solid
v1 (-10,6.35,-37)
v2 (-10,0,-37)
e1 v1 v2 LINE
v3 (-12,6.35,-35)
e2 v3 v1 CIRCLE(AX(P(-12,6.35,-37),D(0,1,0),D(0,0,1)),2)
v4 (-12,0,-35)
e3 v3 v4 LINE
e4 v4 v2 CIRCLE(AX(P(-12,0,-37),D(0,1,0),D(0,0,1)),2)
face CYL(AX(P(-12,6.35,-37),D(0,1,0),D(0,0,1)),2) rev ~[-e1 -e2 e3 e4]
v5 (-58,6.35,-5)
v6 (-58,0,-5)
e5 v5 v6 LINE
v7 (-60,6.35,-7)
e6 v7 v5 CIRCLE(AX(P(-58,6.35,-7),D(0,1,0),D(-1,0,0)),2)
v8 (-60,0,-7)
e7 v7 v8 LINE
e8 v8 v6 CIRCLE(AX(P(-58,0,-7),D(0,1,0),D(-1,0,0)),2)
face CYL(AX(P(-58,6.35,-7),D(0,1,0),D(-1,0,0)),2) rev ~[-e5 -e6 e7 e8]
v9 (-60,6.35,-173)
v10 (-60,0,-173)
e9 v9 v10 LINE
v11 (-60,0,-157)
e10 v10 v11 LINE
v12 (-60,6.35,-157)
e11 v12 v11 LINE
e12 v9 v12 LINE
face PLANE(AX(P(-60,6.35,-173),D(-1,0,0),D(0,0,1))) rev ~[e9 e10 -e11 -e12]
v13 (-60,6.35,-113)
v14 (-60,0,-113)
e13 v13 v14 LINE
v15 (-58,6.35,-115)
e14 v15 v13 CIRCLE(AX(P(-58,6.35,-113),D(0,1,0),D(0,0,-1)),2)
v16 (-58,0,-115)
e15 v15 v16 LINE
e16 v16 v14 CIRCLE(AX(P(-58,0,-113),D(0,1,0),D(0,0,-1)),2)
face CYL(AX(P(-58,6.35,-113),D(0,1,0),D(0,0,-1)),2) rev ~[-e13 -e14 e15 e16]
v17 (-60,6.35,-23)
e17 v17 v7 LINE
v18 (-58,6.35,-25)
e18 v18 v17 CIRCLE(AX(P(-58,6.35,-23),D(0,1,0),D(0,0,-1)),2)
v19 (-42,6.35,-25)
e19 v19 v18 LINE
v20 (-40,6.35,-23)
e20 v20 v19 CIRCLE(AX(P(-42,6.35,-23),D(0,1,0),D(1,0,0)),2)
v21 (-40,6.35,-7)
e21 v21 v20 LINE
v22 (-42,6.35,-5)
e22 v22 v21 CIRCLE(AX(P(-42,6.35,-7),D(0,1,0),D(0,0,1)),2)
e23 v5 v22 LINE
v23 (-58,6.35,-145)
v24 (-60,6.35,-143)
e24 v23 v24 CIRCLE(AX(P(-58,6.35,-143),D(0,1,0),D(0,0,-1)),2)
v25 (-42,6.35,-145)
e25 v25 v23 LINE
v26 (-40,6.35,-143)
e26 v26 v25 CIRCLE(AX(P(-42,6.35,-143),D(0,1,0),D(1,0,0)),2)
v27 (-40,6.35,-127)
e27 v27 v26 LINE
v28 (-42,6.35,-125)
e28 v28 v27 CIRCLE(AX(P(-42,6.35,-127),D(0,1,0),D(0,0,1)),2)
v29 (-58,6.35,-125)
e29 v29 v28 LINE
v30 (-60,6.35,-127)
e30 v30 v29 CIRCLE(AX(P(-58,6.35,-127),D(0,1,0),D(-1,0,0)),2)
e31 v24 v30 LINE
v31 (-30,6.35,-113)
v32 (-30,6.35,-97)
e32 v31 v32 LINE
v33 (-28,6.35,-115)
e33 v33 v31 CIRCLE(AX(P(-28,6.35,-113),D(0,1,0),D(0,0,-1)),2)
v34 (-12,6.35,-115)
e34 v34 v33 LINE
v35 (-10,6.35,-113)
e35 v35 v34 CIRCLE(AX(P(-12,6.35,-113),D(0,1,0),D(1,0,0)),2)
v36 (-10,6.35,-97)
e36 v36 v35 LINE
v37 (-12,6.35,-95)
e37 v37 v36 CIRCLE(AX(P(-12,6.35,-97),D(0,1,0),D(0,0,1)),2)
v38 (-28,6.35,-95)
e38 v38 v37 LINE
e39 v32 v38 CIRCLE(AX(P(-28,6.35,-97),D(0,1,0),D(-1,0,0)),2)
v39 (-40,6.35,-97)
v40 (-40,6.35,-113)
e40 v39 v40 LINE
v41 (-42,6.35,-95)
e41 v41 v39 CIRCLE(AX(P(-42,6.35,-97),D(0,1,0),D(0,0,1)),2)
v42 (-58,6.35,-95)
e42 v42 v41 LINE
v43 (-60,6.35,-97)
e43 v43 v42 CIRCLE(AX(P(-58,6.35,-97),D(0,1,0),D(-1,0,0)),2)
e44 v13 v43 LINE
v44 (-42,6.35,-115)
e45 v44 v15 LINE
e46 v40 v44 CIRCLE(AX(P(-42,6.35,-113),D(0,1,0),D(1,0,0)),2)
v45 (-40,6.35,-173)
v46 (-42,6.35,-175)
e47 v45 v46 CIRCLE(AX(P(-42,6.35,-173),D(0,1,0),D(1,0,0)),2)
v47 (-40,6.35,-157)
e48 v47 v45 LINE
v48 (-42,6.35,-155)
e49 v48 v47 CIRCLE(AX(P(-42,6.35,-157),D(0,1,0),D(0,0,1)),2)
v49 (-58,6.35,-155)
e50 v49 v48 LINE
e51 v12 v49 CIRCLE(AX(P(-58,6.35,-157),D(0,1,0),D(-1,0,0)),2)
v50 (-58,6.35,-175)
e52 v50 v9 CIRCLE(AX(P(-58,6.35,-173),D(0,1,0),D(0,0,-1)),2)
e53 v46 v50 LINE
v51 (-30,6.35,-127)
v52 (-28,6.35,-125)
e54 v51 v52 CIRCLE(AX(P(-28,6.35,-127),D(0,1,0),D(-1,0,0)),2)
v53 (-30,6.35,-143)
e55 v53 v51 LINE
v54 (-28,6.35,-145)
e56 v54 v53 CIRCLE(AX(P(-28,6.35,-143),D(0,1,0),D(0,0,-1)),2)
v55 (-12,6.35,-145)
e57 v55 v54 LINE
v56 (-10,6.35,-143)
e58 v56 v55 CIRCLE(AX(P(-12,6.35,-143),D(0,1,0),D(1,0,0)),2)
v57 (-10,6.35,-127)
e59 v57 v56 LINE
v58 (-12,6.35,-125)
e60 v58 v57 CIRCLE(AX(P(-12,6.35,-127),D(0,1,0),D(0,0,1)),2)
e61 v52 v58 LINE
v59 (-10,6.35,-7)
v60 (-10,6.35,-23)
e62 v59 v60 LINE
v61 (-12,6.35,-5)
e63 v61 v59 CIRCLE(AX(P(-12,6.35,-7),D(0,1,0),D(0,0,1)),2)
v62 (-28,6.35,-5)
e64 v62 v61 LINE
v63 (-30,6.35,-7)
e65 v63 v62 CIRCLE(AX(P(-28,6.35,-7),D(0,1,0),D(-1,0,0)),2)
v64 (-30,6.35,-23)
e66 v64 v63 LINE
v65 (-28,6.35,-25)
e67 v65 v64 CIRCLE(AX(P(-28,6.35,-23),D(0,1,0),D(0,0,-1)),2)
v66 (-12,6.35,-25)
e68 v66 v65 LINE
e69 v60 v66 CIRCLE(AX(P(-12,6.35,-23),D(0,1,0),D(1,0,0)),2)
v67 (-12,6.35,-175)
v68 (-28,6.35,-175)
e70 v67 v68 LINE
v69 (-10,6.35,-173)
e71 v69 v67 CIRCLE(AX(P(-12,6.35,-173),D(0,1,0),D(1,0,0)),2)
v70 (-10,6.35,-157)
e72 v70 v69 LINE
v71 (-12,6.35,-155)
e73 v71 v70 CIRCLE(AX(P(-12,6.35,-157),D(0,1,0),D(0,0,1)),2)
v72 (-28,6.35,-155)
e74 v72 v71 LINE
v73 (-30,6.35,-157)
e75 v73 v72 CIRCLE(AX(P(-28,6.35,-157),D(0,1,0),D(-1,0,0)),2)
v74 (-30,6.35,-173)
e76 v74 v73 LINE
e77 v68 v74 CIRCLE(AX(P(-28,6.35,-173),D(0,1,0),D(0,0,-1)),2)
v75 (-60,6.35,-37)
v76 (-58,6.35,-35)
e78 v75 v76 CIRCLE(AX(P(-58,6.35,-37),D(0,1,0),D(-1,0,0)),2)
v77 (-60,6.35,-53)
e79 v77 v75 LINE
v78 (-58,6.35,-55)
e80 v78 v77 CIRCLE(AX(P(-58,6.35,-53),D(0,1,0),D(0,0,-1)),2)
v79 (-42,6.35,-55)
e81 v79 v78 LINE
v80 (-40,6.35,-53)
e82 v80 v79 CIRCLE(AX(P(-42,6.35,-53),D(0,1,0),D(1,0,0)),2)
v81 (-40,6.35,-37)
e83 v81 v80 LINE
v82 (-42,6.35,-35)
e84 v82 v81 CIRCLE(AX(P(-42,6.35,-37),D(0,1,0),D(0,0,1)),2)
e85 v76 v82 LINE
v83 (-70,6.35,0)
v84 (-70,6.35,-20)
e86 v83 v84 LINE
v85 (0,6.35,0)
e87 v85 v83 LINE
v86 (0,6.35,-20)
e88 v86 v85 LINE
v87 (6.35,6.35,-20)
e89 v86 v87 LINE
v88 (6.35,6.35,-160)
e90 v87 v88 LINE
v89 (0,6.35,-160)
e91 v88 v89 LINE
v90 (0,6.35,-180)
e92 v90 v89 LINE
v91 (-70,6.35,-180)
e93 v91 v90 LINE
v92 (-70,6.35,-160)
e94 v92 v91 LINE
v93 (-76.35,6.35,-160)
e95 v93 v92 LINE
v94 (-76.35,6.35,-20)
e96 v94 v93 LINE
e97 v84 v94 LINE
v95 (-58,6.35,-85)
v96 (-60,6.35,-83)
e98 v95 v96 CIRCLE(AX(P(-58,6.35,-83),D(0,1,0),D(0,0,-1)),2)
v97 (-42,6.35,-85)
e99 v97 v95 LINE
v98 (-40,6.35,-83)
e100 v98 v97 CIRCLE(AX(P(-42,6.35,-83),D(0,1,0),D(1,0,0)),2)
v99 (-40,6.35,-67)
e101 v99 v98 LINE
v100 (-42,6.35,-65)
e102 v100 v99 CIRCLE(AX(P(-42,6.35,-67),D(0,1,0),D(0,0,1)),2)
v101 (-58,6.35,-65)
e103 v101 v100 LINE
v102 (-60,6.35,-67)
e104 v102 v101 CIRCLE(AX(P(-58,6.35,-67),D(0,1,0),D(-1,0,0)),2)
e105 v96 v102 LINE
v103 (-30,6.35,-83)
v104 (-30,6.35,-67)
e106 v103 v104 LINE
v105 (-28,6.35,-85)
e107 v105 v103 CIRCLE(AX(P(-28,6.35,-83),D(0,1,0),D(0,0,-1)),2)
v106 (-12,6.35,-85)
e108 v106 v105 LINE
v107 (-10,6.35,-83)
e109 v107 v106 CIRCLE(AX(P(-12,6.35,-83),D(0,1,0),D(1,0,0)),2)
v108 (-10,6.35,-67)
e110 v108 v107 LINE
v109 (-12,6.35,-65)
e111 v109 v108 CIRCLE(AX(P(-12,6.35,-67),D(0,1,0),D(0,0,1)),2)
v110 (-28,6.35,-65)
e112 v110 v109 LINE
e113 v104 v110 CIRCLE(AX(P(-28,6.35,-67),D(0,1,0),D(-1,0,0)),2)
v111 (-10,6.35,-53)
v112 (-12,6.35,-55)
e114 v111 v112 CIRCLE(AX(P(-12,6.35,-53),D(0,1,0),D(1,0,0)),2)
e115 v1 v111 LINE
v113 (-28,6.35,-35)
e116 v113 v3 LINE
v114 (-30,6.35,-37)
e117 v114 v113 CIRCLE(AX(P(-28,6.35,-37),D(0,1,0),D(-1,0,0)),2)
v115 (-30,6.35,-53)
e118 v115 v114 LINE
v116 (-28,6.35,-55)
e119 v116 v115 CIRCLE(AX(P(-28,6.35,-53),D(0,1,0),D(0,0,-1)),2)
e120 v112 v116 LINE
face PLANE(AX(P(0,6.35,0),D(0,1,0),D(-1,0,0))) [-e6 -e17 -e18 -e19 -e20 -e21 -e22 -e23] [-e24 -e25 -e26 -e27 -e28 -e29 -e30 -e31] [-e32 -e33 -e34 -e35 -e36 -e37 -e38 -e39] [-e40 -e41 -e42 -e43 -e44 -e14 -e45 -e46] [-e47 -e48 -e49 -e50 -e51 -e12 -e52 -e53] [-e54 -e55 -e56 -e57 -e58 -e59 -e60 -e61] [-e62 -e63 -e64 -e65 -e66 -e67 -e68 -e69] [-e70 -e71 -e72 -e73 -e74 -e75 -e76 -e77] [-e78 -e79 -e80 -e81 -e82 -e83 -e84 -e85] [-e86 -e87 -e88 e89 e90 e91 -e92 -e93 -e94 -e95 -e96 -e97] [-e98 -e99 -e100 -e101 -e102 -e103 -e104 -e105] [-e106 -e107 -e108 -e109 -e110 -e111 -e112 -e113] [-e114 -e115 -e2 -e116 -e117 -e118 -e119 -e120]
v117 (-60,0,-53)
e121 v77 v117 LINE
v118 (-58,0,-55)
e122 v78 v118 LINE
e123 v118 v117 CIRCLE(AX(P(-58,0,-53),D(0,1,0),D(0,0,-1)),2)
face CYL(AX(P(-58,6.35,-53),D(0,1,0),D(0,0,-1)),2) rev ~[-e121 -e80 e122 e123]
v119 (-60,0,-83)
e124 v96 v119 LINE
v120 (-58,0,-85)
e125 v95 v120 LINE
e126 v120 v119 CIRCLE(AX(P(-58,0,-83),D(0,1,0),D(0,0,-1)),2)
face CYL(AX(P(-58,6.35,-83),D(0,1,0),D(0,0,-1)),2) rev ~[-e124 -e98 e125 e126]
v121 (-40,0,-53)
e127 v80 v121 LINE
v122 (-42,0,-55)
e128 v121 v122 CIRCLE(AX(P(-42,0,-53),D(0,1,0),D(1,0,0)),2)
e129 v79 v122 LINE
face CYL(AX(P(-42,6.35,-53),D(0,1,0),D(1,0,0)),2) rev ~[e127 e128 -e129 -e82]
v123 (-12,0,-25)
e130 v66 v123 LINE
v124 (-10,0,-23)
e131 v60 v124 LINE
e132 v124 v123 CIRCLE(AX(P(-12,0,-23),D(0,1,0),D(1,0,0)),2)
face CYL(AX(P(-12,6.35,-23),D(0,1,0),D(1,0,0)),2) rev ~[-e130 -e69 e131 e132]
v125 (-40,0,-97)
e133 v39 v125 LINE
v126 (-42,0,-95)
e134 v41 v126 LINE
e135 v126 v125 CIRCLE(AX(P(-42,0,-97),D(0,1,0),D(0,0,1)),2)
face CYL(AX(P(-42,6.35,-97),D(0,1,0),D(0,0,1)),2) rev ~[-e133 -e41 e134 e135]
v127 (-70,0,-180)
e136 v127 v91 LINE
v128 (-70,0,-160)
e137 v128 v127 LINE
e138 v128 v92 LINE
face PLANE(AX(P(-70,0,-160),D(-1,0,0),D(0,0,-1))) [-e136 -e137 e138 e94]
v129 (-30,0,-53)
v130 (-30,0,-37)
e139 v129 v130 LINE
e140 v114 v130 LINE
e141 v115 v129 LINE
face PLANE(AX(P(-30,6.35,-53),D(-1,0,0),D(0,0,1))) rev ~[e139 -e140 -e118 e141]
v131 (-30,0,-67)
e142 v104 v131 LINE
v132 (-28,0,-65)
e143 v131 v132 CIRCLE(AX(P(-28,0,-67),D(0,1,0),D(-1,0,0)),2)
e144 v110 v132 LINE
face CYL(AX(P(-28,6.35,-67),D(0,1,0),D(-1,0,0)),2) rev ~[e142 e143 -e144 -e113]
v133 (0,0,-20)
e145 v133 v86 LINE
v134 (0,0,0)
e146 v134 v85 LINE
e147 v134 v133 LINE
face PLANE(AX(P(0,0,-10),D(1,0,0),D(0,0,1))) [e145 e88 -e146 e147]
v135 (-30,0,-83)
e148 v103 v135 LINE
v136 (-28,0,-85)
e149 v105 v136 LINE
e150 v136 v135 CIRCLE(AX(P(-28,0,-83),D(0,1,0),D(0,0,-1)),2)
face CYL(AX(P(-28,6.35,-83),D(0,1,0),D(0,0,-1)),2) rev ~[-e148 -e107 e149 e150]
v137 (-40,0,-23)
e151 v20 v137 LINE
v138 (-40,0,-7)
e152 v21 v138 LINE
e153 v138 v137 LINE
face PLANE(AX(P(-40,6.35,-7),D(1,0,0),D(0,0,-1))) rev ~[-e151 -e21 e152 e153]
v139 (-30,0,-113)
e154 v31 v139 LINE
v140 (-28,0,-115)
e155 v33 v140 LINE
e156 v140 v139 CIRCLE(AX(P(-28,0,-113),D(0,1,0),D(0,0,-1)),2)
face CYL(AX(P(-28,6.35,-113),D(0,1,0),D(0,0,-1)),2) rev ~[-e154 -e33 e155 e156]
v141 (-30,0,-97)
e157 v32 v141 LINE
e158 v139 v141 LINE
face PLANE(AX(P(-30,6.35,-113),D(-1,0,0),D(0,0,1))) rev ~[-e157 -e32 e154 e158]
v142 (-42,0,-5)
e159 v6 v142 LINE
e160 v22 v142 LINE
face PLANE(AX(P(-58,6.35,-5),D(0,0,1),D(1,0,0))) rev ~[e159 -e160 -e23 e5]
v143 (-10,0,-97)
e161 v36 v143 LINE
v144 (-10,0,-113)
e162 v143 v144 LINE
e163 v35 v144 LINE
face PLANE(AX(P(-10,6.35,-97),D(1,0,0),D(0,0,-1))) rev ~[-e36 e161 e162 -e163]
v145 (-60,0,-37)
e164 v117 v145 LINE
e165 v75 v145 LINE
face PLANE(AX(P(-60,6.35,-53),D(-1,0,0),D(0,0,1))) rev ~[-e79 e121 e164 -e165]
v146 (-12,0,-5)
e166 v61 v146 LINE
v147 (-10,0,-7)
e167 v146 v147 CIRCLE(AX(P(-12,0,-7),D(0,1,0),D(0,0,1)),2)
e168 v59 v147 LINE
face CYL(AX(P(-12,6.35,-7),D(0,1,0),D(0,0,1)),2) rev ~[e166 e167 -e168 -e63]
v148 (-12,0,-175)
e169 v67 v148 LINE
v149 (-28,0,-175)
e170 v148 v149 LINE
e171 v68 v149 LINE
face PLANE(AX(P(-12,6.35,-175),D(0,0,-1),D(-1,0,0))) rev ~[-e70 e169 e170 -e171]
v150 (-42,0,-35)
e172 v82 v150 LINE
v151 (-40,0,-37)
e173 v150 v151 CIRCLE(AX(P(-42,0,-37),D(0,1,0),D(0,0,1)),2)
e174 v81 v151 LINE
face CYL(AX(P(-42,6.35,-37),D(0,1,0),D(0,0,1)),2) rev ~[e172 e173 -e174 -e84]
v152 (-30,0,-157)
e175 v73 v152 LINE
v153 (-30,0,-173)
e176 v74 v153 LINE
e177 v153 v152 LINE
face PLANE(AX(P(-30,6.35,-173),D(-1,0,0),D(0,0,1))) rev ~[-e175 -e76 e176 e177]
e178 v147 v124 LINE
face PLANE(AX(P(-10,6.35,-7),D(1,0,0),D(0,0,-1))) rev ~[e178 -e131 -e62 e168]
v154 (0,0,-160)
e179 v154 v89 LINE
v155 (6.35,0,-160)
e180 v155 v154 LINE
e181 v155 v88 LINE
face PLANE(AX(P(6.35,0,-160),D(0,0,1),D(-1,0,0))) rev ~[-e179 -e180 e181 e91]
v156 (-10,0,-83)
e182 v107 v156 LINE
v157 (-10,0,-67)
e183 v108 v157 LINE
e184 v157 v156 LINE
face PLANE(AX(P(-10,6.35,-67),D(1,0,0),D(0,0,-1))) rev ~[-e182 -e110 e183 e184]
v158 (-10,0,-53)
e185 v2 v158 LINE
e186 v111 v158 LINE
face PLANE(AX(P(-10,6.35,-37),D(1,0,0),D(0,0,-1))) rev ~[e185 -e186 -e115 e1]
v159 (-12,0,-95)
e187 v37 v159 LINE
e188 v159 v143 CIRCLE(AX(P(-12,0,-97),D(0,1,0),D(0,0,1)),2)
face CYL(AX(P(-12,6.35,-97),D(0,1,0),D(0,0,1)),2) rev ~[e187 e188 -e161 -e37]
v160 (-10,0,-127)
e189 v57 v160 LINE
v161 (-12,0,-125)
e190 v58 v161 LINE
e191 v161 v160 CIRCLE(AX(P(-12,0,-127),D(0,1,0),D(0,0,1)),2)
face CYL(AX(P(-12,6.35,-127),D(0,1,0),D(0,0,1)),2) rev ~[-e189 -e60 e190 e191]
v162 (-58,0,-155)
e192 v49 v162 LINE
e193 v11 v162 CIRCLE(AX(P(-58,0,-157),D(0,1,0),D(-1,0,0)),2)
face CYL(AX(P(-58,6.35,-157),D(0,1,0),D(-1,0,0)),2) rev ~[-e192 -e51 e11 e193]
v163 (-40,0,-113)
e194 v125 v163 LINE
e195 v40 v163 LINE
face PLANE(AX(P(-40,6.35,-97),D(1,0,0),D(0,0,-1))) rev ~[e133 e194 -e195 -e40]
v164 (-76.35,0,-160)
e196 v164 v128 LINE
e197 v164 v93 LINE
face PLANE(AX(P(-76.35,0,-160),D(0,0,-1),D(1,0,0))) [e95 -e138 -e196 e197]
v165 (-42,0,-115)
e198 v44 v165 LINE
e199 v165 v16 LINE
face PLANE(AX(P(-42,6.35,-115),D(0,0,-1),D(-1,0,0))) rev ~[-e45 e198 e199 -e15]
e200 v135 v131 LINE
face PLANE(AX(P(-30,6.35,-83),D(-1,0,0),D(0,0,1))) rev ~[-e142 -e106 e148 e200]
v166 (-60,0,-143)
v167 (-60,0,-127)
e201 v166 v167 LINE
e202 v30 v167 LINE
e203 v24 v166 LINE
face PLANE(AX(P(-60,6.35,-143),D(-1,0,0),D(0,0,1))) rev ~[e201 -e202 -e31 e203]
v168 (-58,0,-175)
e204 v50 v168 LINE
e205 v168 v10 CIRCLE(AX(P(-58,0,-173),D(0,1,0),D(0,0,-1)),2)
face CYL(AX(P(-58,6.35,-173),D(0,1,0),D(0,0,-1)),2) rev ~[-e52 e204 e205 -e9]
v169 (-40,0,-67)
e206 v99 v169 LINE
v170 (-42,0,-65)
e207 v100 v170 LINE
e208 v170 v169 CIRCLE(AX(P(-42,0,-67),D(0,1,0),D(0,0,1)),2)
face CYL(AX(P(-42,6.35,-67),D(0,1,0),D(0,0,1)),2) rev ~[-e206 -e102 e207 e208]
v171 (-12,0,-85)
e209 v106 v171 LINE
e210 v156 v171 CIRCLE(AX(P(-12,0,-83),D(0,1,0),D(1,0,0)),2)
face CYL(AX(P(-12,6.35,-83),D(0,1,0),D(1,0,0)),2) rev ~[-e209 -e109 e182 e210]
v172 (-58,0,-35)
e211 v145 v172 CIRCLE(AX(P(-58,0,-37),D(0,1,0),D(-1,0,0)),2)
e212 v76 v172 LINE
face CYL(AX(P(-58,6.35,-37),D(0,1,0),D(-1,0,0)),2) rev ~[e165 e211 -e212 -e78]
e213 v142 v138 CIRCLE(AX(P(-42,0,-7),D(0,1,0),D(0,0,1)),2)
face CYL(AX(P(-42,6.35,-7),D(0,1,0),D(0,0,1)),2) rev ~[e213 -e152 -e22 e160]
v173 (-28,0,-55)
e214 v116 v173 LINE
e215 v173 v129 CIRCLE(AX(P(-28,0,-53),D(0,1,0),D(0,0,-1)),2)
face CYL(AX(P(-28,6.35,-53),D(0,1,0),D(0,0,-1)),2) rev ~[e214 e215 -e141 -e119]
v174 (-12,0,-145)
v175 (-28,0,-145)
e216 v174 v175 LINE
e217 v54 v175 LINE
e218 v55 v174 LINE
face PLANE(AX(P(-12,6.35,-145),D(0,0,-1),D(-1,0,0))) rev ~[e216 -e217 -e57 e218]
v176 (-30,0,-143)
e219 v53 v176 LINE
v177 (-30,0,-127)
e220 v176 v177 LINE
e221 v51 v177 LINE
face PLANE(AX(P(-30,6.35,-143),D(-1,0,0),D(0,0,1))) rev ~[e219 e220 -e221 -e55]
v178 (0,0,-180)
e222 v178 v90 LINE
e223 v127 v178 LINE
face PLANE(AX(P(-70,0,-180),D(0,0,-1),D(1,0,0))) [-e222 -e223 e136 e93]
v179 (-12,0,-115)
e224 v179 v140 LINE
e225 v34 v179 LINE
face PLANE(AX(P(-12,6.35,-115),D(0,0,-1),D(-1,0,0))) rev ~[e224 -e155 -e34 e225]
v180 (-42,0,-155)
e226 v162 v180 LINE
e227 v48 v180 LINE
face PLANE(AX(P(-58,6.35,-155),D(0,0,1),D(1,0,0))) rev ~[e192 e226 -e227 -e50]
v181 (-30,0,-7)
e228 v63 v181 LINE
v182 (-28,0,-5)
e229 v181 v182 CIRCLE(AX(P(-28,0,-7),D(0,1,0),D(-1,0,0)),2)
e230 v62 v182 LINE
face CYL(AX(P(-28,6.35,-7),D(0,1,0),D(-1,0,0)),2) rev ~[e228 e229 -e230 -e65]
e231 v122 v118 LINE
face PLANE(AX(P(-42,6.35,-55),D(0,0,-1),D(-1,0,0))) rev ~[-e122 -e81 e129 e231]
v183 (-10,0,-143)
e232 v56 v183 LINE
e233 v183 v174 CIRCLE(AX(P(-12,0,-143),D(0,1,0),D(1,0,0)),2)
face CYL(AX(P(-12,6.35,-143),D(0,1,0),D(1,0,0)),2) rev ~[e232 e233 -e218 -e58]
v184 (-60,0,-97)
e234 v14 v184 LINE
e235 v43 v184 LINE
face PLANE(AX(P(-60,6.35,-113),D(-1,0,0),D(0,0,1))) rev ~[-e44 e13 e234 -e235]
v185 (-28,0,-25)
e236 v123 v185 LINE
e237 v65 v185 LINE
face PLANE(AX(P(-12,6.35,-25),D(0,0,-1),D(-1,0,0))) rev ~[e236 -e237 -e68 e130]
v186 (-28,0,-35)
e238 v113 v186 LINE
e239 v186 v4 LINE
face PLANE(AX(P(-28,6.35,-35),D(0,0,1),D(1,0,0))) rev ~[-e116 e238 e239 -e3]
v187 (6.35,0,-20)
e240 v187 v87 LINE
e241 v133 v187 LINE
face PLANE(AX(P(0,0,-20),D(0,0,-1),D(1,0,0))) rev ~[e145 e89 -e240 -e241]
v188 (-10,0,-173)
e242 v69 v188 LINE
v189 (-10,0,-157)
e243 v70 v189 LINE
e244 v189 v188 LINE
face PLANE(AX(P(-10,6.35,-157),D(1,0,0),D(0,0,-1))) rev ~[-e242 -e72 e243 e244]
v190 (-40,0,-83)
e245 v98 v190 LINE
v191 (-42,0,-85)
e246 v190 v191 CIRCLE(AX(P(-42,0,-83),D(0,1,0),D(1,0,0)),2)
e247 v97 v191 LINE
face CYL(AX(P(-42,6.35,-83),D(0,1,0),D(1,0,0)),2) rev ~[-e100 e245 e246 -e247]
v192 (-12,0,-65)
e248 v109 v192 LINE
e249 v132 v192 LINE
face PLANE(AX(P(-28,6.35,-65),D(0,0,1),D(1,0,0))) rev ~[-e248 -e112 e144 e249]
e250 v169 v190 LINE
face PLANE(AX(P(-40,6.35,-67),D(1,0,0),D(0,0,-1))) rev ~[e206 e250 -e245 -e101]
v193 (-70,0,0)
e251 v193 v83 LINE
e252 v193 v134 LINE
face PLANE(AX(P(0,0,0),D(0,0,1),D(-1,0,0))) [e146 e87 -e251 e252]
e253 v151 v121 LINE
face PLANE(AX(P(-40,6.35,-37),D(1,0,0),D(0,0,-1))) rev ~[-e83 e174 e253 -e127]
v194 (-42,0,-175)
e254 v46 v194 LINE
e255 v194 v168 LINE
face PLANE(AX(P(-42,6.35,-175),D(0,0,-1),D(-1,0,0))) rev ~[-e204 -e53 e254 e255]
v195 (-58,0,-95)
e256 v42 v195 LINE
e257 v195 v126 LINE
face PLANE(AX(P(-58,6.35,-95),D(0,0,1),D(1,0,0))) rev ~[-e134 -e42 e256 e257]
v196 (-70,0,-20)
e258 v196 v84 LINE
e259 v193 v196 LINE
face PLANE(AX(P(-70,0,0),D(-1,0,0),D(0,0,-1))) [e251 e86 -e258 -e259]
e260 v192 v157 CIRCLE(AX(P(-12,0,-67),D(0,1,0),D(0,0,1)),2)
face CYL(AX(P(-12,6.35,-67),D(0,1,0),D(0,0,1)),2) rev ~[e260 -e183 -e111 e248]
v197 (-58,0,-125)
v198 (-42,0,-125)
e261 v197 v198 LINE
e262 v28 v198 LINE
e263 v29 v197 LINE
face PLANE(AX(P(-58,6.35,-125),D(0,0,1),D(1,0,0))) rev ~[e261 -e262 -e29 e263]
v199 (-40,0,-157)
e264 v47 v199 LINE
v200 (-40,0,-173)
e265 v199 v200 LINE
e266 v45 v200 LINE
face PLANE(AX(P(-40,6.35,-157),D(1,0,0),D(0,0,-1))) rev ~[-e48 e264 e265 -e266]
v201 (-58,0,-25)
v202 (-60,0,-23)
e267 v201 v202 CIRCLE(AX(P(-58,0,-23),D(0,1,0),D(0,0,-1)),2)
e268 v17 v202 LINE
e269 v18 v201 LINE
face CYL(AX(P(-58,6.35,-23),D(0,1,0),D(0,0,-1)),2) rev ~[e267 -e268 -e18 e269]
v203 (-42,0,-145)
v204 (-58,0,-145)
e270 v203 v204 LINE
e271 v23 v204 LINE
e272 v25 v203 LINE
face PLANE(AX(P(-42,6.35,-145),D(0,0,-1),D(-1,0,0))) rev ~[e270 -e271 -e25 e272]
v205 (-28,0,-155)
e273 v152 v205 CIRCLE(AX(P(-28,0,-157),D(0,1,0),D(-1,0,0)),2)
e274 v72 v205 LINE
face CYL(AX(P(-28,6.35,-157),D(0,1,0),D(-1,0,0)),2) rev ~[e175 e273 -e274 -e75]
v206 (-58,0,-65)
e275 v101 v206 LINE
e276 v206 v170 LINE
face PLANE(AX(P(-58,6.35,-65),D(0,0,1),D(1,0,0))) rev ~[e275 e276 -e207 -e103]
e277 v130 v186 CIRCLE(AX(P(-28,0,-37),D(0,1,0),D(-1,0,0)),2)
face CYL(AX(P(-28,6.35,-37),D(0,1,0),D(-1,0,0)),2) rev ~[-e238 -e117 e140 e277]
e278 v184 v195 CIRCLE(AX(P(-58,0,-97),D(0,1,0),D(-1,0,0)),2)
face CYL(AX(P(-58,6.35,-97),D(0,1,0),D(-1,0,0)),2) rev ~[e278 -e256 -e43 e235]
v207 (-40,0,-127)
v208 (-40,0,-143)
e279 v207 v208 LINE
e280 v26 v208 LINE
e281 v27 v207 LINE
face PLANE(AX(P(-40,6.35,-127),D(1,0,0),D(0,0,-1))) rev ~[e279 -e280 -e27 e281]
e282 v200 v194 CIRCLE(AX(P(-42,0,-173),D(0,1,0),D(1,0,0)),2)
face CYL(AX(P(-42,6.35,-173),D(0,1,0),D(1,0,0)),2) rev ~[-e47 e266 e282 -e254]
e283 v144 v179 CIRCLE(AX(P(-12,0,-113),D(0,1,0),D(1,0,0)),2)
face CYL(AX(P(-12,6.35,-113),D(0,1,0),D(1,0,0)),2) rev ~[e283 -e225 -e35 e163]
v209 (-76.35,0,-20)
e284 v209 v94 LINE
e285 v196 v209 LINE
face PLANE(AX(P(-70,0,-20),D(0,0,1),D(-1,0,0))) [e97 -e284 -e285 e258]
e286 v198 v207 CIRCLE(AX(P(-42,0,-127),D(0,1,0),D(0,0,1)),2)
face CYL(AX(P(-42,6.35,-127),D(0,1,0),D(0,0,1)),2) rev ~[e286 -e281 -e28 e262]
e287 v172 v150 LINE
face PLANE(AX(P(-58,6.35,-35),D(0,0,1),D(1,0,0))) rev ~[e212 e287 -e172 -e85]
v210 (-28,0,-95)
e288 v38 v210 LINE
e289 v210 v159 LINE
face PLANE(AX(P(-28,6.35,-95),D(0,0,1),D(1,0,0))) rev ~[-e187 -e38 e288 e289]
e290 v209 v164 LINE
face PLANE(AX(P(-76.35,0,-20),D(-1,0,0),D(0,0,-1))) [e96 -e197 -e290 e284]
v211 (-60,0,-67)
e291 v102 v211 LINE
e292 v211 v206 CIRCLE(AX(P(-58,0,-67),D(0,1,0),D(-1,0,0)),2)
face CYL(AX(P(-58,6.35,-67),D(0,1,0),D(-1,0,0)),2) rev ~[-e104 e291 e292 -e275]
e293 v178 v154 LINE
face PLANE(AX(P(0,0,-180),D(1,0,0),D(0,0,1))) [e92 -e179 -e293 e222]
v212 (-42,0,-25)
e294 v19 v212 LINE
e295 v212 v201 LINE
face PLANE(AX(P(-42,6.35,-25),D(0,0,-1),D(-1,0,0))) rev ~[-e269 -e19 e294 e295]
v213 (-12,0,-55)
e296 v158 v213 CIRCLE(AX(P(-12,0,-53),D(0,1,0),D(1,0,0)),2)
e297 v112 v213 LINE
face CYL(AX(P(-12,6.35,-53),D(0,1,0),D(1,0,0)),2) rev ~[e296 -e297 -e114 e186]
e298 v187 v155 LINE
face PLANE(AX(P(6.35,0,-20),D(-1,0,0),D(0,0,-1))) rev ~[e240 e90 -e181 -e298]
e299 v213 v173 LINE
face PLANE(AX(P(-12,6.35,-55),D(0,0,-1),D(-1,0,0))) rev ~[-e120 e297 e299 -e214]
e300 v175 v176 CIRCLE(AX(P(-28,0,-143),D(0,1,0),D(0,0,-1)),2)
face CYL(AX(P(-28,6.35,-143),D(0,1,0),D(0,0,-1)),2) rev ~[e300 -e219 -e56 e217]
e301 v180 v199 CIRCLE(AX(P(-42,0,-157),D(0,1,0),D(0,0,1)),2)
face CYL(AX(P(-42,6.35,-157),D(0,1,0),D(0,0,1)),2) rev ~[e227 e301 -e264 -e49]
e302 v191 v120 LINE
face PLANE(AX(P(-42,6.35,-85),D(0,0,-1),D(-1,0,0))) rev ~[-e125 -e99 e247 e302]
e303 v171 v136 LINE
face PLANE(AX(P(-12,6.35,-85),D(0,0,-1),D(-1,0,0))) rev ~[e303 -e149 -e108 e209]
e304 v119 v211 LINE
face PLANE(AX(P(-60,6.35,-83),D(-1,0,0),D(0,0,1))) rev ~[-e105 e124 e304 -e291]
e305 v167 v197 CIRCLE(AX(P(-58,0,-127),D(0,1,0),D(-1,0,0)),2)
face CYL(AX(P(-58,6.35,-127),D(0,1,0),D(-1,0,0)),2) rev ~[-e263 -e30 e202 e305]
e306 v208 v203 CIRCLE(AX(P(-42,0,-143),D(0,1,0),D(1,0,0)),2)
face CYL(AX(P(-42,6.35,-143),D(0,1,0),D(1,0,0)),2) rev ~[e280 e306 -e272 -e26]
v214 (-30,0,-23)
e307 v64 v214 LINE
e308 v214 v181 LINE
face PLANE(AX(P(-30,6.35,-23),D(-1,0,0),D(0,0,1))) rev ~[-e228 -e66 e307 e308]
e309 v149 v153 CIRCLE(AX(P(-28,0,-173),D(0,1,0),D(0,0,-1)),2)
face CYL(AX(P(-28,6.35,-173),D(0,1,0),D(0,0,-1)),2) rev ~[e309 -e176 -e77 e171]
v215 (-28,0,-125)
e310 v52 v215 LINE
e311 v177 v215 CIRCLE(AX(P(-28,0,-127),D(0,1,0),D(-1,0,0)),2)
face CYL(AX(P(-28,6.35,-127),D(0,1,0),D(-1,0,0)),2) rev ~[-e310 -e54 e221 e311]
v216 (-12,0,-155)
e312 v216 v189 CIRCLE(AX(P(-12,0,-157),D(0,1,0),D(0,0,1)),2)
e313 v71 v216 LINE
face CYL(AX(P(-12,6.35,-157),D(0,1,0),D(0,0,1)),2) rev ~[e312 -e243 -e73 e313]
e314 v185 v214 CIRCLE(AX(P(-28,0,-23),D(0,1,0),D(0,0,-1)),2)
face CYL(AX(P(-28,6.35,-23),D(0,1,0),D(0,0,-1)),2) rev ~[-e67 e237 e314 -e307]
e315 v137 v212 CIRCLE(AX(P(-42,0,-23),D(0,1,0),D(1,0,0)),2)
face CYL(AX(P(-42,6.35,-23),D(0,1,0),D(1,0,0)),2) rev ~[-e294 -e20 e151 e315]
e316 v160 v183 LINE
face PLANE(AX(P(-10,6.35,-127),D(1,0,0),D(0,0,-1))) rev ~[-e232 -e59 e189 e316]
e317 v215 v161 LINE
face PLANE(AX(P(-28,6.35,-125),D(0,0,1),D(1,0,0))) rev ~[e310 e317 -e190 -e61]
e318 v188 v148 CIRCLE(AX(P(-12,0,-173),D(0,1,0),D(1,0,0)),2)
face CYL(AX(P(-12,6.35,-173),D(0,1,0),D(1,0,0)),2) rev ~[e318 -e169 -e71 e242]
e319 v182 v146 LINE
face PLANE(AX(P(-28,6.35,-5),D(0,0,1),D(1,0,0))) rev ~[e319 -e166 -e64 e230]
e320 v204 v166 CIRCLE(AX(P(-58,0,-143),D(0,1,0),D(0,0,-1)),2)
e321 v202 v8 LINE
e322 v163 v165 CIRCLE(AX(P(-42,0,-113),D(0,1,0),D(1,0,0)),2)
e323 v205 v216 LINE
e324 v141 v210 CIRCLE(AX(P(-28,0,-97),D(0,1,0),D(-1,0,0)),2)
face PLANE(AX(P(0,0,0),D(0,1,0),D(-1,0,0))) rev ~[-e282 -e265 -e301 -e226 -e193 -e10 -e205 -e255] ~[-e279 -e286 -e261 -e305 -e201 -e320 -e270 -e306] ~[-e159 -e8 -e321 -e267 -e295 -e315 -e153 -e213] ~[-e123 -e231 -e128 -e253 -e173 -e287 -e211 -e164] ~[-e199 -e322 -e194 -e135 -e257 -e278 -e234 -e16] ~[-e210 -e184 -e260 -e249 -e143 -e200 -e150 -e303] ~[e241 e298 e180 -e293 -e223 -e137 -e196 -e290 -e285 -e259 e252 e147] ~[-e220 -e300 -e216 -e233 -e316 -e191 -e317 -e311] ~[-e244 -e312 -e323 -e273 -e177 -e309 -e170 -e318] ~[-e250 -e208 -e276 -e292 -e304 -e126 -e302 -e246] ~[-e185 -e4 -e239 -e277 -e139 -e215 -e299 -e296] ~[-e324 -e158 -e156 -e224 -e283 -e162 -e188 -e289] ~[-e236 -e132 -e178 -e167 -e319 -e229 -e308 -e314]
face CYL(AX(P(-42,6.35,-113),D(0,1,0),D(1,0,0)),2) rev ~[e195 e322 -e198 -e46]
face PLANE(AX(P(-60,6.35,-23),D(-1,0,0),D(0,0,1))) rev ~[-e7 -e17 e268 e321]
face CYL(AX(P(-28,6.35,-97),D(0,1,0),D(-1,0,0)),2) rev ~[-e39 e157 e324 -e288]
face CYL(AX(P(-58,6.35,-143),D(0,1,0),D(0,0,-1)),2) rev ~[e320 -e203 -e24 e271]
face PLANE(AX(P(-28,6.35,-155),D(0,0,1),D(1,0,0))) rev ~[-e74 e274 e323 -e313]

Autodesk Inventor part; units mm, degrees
ref_plane "YZ Plane" through (0, 0, 0) normal (1, 0, 0) x (0, 1, 0)
ref_plane "XZ Plane" through (0, 0, 0) normal (0, 1, 0) x (-1, 0, 0)
ref_plane "XY Plane" through (0, 0, 0) normal (0, 0, 1) x (1, 0, 0)
sketch "Sketch1" plane through (0, 0, 0) normal (0, 1, 0) x (-1, 0, 0)
  line L0 (0, 0) -> (70, 0)
  line L1 (70, 0) -> (70, -180)
  line L2 (70, -180) -> (0, -180)
  line L3 (0, -180) -> (0, 0)
  line L4 (0, 0) -> (4.5, 0)
  line L5 (4.5, 0) -> (4.5, -10) construction
  line L6 (4.5, -10) -> (0, -10) construction
  line L7 (0, -10) -> (0, 0)
  line L8 (4.5, -10) -> (10.85, -10)
  line L9 (10.85, -10) -> (10.85, -30)
  line L10 (10.85, -30) -> (4.5, -30)
  line L11 (4.5, -30) -> (4.5, -10)
  line L12 (4.5, -80) -> (10.85, -80)
  line L13 (10.85, -80) -> (10.85, -100)
  line L14 (10.85, -100) -> (4.5, -100)
  line L15 (4.5, -100) -> (4.5, -80)
  line L16 (4.5, -150) -> (10.85, -150)
  line L17 (10.85, -150) -> (10.85, -170)
  line L18 (10.85, -170) -> (4.5, -170)
  line L19 (4.5, -170) -> (4.5, -150)
  line L20 (35, 0) -> (35, -180) construction
  line L21 (0, -20) -> (-6.35, -20)
  line L22 (-6.35, -20) -> (-6.35, -160)
  line L23 (-6.35, -160) -> (0, -160)
  line L24 (0, -160) -> (0, -20)
  line L25 (65.5, -170) -> (65.5, -150)
  line L26 (70, -20) -> (76.35, -20)
  line L27 (76.35, -20) -> (76.35, -160)
  line L28 (76.35, -160) -> (70, -160)
  line L29 (70, -160) -> (70, -20)
  point P0 (70, -160)
  dimension "d0" = 70
  dimension "d1" = 180
  dimension "d2" = 4.5
  dimension "d3" = 10
  dimension "d8" = 70
  dimension "d30" = 6.35
  dimension "d31" = 140
extrude "Extrusion1" add sketch "Sketch1" along normal blind 6.35 contours L0 L1 L2 L3 | L3 L23 L22 L21 | L26 L27 L28 L1 | L8 L9 L10 L11 | L12 L13 L14 L15 | L16 L17 L18 L19
sketch "Sketch2" plane through (0, 6.35, 0) normal (0, 1, 0) x (1, 0, 0)
  line L0 (-70, 180) -> (-70, 0) construction
  line L1 (-70, 0) -> (-60, 0) construction
  line L2 (-60, 0) -> (-60, 5) construction
  line L3 (-60, 5) -> (-70, 5) construction
  line L4 (-70, 5) -> (-70, 0) construction
  line L5 (-58, 5) -> (-42, 5)
  line L6 (-40, 7) -> (-40, 23)
  line L7 (-42, 25) -> (-58, 25)
  line L8 (-60, 23) -> (-60, 7)
  arc A0 (-58, 25) -> (-60, 23) centre (-58, 23) ccw
  arc A1 (-42, 5) -> (-40, 7) centre (-42, 7) ccw
  arc A2 (-40, 23) -> (-42, 25) centre (-42, 23) ccw
  arc A3 (-60, 7) -> (-58, 5) centre (-58, 7) ccw
  arc A4 (-60, 37) -> (-58, 35) centre (-58, 37) ccw
  arc A5 (-42, 35) -> (-40, 37) centre (-42, 37) ccw
  line L9 (-60, 53) -> (-60, 37)
  line L10 (-42, 55) -> (-58, 55)
  arc A6 (-58, 55) -> (-60, 53) centre (-58, 53) ccw
  arc A7 (-40, 53) -> (-42, 55) centre (-42, 53) ccw
  line L11 (-40, 37) -> (-40, 53)
  line L12 (-58, 35) -> (-42, 35)
  arc A8 (-60, 67) -> (-58, 65) centre (-58, 67) ccw
  arc A9 (-42, 65) -> (-40, 67) centre (-42, 67) ccw
  line L13 (-60, 83) -> (-60, 67)
  line L14 (-42, 85) -> (-58, 85)
  arc A10 (-58, 85) -> (-60, 83) centre (-58, 83) ccw
  arc A11 (-40, 83) -> (-42, 85) centre (-42, 83) ccw
  line L15 (-40, 67) -> (-40, 83)
  line L16 (-58, 65) -> (-42, 65)
  arc A12 (-60, 97) -> (-58, 95) centre (-58, 97) ccw
  arc A13 (-42, 95) -> (-40, 97) centre (-42, 97) ccw
  line L17 (-60, 113) -> (-60, 97)
  line L18 (-42, 115) -> (-58, 115)
  arc A14 (-58, 115) -> (-60, 113) centre (-58, 113) ccw
  arc A15 (-40, 113) -> (-42, 115) centre (-42, 113) ccw
  line L19 (-40, 97) -> (-40, 113)
  line L20 (-58, 95) -> (-42, 95)
  arc A16 (-30, 7) -> (-28, 5) centre (-28, 7) ccw
  arc A17 (-12, 5) -> (-10, 7) centre (-12, 7) ccw
  line L21 (-30, 23) -> (-30, 7)
  line L22 (-12, 25) -> (-28, 25)
  arc A18 (-28, 25) -> (-30, 23) centre (-28, 23) ccw
  arc A19 (-10, 23) -> (-12, 25) centre (-12, 23) ccw
  line L23 (-10, 7) -> (-10, 23)
  line L24 (-28, 5) -> (-12, 5)
  arc A20 (-30, 37) -> (-28, 35) centre (-28, 37) ccw
  arc A21 (-12, 35) -> (-10, 37) centre (-12, 37) ccw
  line L25 (-30, 53) -> (-30, 37)
  line L26 (-12, 55) -> (-28, 55)
  arc A22 (-28, 55) -> (-30, 53) centre (-28, 53) ccw
  arc A23 (-10, 53) -> (-12, 55) centre (-12, 53) ccw
  line L27 (-10, 37) -> (-10, 53)
  line L28 (-28, 35) -> (-12, 35)
  arc A24 (-30, 67) -> (-28, 65) centre (-28, 67) ccw
  arc A25 (-12, 65) -> (-10, 67) centre (-12, 67) ccw
  line L29 (-30, 83) -> (-30, 67)
  line L30 (-12, 85) -> (-28, 85)
  arc A26 (-28, 85) -> (-30, 83) centre (-28, 83) ccw
  arc A27 (-10, 83) -> (-12, 85) centre (-12, 83) ccw
  line L31 (-10, 67) -> (-10, 83)
  line L32 (-28, 65) -> (-12, 65)
  arc A28 (-30, 97) -> (-28, 95) centre (-28, 97) ccw
  arc A29 (-12, 95) -> (-10, 97) centre (-12, 97) ccw
  line L33 (-30, 113) -> (-30, 97)
  line L34 (-12, 115) -> (-28, 115)
  arc A30 (-28, 115) -> (-30, 113) centre (-28, 113) ccw
  arc A31 (-10, 113) -> (-12, 115) centre (-12, 113) ccw
  line L35 (-10, 97) -> (-10, 113)
  line L36 (-28, 95) -> (-12, 95)
  arc A32 (-60, 127) -> (-58, 125) centre (-58, 127) ccw
  arc A33 (-42, 125) -> (-40, 127) centre (-42, 127) ccw
  line L37 (-60, 143) -> (-60, 127)
  line L38 (-42, 145) -> (-58, 145)
  arc A34 (-58, 145) -> (-60, 143) centre (-58, 143) ccw
  arc A35 (-40, 143) -> (-42, 145) centre (-42, 143) ccw
  line L39 (-40, 127) -> (-40, 143)
  line L40 (-58, 125) -> (-42, 125)
  arc A36 (-30, 127) -> (-28, 125) centre (-28, 127) ccw
  arc A37 (-12, 125) -> (-10, 127) centre (-12, 127) ccw
  line L41 (-30, 143) -> (-30, 127)
  line L42 (-12, 145) -> (-28, 145)
  arc A38 (-28, 145) -> (-30, 143) centre (-28, 143) ccw
  arc A39 (-10, 143) -> (-12, 145) centre (-12, 143) ccw
  line L43 (-10, 127) -> (-10, 143)
  line L44 (-28, 125) -> (-12, 125)
  arc A40 (-60, 157) -> (-58, 155) centre (-58, 157) ccw
  arc A41 (-42, 155) -> (-40, 157) centre (-42, 157) ccw
  line L45 (-60, 173) -> (-60, 157)
  line L46 (-42, 175) -> (-58, 175)
  arc A42 (-58, 175) -> (-60, 173) centre (-58, 173) ccw
  arc A43 (-40, 173) -> (-42, 175) centre (-42, 173) ccw
  line L47 (-40, 157) -> (-40, 173)
  line L48 (-58, 155) -> (-42, 155)
  arc A44 (-30, 157) -> (-28, 155) centre (-28, 157) ccw
  arc A45 (-12, 155) -> (-10, 157) centre (-12, 157) ccw
  line L49 (-30, 173) -> (-30, 157)
  line L50 (-12, 175) -> (-28, 175)
  arc A46 (-28, 175) -> (-30, 173) centre (-28, 173) ccw
  arc A47 (-10, 173) -> (-12, 175) centre (-12, 173) ccw
  line L51 (-10, 157) -> (-10, 173)
  line L52 (-28, 155) -> (-12, 155)
  point P0 (0, 0)
  point P1 (-40, 25)
  point P2 (-40, 5)
  point P3 (-60, 25)
  point P4 (-40, 35)
  point P5 (-60, 55)
  point P6 (-60, 35)
  point P7 (-40, 55)
  point P8 (-40, 65)
  point P9 (-60, 85)
  point P10 (-60, 65)
  point P11 (-40, 85)
  point P12 (-40, 95)
  point P13 (-60, 115)
  point P14 (-60, 95)
  point P15 (-40, 115)
  point P16 (-10, 5)
  point P17 (-30, 25)
  point P18 (-30, 5)
  point P19 (-10, 25)
  point P20 (-10, 35)
  point P21 (-30, 55)
  point P22 (-30, 35)
  point P23 (-10, 55)
  point P24 (-10, 65)
  point P25 (-30, 85)
  point P26 (-30, 65)
  point P27 (-10, 85)
  point P28 (-10, 95)
  point P29 (-30, 115)
  point P30 (-30, 95)
  point P31 (-10, 115)
  point P32 (-40, 125)
  point P33 (-60, 145)
  point P34 (-60, 125)
  point P35 (-40, 145)
  point P36 (-10, 125)
  point P37 (-30, 145)
  point P38 (-30, 125)
  point P39 (-10, 145)
  point P40 (-40, 155)
  point P41 (-60, 175)
  point P42 (-60, 155)
  point P43 (-40, 175)
  point P44 (-10, 155)
  point P45 (-30, 175)
  point P46 (-30, 155)
  point P47 (-10, 175)
  dimension "d15" = 10
  dimension "d16" = 5
  dimension "d17" = 20
  dimension "d18" = 20
  dimension "d19" = 2
  dimension "d22" = 30
  dimension "d25" = 30
extrude "Extrusion2" cut sketch "Sketch2" against normal blind 6.35
properties part number "Base-Skiba"
